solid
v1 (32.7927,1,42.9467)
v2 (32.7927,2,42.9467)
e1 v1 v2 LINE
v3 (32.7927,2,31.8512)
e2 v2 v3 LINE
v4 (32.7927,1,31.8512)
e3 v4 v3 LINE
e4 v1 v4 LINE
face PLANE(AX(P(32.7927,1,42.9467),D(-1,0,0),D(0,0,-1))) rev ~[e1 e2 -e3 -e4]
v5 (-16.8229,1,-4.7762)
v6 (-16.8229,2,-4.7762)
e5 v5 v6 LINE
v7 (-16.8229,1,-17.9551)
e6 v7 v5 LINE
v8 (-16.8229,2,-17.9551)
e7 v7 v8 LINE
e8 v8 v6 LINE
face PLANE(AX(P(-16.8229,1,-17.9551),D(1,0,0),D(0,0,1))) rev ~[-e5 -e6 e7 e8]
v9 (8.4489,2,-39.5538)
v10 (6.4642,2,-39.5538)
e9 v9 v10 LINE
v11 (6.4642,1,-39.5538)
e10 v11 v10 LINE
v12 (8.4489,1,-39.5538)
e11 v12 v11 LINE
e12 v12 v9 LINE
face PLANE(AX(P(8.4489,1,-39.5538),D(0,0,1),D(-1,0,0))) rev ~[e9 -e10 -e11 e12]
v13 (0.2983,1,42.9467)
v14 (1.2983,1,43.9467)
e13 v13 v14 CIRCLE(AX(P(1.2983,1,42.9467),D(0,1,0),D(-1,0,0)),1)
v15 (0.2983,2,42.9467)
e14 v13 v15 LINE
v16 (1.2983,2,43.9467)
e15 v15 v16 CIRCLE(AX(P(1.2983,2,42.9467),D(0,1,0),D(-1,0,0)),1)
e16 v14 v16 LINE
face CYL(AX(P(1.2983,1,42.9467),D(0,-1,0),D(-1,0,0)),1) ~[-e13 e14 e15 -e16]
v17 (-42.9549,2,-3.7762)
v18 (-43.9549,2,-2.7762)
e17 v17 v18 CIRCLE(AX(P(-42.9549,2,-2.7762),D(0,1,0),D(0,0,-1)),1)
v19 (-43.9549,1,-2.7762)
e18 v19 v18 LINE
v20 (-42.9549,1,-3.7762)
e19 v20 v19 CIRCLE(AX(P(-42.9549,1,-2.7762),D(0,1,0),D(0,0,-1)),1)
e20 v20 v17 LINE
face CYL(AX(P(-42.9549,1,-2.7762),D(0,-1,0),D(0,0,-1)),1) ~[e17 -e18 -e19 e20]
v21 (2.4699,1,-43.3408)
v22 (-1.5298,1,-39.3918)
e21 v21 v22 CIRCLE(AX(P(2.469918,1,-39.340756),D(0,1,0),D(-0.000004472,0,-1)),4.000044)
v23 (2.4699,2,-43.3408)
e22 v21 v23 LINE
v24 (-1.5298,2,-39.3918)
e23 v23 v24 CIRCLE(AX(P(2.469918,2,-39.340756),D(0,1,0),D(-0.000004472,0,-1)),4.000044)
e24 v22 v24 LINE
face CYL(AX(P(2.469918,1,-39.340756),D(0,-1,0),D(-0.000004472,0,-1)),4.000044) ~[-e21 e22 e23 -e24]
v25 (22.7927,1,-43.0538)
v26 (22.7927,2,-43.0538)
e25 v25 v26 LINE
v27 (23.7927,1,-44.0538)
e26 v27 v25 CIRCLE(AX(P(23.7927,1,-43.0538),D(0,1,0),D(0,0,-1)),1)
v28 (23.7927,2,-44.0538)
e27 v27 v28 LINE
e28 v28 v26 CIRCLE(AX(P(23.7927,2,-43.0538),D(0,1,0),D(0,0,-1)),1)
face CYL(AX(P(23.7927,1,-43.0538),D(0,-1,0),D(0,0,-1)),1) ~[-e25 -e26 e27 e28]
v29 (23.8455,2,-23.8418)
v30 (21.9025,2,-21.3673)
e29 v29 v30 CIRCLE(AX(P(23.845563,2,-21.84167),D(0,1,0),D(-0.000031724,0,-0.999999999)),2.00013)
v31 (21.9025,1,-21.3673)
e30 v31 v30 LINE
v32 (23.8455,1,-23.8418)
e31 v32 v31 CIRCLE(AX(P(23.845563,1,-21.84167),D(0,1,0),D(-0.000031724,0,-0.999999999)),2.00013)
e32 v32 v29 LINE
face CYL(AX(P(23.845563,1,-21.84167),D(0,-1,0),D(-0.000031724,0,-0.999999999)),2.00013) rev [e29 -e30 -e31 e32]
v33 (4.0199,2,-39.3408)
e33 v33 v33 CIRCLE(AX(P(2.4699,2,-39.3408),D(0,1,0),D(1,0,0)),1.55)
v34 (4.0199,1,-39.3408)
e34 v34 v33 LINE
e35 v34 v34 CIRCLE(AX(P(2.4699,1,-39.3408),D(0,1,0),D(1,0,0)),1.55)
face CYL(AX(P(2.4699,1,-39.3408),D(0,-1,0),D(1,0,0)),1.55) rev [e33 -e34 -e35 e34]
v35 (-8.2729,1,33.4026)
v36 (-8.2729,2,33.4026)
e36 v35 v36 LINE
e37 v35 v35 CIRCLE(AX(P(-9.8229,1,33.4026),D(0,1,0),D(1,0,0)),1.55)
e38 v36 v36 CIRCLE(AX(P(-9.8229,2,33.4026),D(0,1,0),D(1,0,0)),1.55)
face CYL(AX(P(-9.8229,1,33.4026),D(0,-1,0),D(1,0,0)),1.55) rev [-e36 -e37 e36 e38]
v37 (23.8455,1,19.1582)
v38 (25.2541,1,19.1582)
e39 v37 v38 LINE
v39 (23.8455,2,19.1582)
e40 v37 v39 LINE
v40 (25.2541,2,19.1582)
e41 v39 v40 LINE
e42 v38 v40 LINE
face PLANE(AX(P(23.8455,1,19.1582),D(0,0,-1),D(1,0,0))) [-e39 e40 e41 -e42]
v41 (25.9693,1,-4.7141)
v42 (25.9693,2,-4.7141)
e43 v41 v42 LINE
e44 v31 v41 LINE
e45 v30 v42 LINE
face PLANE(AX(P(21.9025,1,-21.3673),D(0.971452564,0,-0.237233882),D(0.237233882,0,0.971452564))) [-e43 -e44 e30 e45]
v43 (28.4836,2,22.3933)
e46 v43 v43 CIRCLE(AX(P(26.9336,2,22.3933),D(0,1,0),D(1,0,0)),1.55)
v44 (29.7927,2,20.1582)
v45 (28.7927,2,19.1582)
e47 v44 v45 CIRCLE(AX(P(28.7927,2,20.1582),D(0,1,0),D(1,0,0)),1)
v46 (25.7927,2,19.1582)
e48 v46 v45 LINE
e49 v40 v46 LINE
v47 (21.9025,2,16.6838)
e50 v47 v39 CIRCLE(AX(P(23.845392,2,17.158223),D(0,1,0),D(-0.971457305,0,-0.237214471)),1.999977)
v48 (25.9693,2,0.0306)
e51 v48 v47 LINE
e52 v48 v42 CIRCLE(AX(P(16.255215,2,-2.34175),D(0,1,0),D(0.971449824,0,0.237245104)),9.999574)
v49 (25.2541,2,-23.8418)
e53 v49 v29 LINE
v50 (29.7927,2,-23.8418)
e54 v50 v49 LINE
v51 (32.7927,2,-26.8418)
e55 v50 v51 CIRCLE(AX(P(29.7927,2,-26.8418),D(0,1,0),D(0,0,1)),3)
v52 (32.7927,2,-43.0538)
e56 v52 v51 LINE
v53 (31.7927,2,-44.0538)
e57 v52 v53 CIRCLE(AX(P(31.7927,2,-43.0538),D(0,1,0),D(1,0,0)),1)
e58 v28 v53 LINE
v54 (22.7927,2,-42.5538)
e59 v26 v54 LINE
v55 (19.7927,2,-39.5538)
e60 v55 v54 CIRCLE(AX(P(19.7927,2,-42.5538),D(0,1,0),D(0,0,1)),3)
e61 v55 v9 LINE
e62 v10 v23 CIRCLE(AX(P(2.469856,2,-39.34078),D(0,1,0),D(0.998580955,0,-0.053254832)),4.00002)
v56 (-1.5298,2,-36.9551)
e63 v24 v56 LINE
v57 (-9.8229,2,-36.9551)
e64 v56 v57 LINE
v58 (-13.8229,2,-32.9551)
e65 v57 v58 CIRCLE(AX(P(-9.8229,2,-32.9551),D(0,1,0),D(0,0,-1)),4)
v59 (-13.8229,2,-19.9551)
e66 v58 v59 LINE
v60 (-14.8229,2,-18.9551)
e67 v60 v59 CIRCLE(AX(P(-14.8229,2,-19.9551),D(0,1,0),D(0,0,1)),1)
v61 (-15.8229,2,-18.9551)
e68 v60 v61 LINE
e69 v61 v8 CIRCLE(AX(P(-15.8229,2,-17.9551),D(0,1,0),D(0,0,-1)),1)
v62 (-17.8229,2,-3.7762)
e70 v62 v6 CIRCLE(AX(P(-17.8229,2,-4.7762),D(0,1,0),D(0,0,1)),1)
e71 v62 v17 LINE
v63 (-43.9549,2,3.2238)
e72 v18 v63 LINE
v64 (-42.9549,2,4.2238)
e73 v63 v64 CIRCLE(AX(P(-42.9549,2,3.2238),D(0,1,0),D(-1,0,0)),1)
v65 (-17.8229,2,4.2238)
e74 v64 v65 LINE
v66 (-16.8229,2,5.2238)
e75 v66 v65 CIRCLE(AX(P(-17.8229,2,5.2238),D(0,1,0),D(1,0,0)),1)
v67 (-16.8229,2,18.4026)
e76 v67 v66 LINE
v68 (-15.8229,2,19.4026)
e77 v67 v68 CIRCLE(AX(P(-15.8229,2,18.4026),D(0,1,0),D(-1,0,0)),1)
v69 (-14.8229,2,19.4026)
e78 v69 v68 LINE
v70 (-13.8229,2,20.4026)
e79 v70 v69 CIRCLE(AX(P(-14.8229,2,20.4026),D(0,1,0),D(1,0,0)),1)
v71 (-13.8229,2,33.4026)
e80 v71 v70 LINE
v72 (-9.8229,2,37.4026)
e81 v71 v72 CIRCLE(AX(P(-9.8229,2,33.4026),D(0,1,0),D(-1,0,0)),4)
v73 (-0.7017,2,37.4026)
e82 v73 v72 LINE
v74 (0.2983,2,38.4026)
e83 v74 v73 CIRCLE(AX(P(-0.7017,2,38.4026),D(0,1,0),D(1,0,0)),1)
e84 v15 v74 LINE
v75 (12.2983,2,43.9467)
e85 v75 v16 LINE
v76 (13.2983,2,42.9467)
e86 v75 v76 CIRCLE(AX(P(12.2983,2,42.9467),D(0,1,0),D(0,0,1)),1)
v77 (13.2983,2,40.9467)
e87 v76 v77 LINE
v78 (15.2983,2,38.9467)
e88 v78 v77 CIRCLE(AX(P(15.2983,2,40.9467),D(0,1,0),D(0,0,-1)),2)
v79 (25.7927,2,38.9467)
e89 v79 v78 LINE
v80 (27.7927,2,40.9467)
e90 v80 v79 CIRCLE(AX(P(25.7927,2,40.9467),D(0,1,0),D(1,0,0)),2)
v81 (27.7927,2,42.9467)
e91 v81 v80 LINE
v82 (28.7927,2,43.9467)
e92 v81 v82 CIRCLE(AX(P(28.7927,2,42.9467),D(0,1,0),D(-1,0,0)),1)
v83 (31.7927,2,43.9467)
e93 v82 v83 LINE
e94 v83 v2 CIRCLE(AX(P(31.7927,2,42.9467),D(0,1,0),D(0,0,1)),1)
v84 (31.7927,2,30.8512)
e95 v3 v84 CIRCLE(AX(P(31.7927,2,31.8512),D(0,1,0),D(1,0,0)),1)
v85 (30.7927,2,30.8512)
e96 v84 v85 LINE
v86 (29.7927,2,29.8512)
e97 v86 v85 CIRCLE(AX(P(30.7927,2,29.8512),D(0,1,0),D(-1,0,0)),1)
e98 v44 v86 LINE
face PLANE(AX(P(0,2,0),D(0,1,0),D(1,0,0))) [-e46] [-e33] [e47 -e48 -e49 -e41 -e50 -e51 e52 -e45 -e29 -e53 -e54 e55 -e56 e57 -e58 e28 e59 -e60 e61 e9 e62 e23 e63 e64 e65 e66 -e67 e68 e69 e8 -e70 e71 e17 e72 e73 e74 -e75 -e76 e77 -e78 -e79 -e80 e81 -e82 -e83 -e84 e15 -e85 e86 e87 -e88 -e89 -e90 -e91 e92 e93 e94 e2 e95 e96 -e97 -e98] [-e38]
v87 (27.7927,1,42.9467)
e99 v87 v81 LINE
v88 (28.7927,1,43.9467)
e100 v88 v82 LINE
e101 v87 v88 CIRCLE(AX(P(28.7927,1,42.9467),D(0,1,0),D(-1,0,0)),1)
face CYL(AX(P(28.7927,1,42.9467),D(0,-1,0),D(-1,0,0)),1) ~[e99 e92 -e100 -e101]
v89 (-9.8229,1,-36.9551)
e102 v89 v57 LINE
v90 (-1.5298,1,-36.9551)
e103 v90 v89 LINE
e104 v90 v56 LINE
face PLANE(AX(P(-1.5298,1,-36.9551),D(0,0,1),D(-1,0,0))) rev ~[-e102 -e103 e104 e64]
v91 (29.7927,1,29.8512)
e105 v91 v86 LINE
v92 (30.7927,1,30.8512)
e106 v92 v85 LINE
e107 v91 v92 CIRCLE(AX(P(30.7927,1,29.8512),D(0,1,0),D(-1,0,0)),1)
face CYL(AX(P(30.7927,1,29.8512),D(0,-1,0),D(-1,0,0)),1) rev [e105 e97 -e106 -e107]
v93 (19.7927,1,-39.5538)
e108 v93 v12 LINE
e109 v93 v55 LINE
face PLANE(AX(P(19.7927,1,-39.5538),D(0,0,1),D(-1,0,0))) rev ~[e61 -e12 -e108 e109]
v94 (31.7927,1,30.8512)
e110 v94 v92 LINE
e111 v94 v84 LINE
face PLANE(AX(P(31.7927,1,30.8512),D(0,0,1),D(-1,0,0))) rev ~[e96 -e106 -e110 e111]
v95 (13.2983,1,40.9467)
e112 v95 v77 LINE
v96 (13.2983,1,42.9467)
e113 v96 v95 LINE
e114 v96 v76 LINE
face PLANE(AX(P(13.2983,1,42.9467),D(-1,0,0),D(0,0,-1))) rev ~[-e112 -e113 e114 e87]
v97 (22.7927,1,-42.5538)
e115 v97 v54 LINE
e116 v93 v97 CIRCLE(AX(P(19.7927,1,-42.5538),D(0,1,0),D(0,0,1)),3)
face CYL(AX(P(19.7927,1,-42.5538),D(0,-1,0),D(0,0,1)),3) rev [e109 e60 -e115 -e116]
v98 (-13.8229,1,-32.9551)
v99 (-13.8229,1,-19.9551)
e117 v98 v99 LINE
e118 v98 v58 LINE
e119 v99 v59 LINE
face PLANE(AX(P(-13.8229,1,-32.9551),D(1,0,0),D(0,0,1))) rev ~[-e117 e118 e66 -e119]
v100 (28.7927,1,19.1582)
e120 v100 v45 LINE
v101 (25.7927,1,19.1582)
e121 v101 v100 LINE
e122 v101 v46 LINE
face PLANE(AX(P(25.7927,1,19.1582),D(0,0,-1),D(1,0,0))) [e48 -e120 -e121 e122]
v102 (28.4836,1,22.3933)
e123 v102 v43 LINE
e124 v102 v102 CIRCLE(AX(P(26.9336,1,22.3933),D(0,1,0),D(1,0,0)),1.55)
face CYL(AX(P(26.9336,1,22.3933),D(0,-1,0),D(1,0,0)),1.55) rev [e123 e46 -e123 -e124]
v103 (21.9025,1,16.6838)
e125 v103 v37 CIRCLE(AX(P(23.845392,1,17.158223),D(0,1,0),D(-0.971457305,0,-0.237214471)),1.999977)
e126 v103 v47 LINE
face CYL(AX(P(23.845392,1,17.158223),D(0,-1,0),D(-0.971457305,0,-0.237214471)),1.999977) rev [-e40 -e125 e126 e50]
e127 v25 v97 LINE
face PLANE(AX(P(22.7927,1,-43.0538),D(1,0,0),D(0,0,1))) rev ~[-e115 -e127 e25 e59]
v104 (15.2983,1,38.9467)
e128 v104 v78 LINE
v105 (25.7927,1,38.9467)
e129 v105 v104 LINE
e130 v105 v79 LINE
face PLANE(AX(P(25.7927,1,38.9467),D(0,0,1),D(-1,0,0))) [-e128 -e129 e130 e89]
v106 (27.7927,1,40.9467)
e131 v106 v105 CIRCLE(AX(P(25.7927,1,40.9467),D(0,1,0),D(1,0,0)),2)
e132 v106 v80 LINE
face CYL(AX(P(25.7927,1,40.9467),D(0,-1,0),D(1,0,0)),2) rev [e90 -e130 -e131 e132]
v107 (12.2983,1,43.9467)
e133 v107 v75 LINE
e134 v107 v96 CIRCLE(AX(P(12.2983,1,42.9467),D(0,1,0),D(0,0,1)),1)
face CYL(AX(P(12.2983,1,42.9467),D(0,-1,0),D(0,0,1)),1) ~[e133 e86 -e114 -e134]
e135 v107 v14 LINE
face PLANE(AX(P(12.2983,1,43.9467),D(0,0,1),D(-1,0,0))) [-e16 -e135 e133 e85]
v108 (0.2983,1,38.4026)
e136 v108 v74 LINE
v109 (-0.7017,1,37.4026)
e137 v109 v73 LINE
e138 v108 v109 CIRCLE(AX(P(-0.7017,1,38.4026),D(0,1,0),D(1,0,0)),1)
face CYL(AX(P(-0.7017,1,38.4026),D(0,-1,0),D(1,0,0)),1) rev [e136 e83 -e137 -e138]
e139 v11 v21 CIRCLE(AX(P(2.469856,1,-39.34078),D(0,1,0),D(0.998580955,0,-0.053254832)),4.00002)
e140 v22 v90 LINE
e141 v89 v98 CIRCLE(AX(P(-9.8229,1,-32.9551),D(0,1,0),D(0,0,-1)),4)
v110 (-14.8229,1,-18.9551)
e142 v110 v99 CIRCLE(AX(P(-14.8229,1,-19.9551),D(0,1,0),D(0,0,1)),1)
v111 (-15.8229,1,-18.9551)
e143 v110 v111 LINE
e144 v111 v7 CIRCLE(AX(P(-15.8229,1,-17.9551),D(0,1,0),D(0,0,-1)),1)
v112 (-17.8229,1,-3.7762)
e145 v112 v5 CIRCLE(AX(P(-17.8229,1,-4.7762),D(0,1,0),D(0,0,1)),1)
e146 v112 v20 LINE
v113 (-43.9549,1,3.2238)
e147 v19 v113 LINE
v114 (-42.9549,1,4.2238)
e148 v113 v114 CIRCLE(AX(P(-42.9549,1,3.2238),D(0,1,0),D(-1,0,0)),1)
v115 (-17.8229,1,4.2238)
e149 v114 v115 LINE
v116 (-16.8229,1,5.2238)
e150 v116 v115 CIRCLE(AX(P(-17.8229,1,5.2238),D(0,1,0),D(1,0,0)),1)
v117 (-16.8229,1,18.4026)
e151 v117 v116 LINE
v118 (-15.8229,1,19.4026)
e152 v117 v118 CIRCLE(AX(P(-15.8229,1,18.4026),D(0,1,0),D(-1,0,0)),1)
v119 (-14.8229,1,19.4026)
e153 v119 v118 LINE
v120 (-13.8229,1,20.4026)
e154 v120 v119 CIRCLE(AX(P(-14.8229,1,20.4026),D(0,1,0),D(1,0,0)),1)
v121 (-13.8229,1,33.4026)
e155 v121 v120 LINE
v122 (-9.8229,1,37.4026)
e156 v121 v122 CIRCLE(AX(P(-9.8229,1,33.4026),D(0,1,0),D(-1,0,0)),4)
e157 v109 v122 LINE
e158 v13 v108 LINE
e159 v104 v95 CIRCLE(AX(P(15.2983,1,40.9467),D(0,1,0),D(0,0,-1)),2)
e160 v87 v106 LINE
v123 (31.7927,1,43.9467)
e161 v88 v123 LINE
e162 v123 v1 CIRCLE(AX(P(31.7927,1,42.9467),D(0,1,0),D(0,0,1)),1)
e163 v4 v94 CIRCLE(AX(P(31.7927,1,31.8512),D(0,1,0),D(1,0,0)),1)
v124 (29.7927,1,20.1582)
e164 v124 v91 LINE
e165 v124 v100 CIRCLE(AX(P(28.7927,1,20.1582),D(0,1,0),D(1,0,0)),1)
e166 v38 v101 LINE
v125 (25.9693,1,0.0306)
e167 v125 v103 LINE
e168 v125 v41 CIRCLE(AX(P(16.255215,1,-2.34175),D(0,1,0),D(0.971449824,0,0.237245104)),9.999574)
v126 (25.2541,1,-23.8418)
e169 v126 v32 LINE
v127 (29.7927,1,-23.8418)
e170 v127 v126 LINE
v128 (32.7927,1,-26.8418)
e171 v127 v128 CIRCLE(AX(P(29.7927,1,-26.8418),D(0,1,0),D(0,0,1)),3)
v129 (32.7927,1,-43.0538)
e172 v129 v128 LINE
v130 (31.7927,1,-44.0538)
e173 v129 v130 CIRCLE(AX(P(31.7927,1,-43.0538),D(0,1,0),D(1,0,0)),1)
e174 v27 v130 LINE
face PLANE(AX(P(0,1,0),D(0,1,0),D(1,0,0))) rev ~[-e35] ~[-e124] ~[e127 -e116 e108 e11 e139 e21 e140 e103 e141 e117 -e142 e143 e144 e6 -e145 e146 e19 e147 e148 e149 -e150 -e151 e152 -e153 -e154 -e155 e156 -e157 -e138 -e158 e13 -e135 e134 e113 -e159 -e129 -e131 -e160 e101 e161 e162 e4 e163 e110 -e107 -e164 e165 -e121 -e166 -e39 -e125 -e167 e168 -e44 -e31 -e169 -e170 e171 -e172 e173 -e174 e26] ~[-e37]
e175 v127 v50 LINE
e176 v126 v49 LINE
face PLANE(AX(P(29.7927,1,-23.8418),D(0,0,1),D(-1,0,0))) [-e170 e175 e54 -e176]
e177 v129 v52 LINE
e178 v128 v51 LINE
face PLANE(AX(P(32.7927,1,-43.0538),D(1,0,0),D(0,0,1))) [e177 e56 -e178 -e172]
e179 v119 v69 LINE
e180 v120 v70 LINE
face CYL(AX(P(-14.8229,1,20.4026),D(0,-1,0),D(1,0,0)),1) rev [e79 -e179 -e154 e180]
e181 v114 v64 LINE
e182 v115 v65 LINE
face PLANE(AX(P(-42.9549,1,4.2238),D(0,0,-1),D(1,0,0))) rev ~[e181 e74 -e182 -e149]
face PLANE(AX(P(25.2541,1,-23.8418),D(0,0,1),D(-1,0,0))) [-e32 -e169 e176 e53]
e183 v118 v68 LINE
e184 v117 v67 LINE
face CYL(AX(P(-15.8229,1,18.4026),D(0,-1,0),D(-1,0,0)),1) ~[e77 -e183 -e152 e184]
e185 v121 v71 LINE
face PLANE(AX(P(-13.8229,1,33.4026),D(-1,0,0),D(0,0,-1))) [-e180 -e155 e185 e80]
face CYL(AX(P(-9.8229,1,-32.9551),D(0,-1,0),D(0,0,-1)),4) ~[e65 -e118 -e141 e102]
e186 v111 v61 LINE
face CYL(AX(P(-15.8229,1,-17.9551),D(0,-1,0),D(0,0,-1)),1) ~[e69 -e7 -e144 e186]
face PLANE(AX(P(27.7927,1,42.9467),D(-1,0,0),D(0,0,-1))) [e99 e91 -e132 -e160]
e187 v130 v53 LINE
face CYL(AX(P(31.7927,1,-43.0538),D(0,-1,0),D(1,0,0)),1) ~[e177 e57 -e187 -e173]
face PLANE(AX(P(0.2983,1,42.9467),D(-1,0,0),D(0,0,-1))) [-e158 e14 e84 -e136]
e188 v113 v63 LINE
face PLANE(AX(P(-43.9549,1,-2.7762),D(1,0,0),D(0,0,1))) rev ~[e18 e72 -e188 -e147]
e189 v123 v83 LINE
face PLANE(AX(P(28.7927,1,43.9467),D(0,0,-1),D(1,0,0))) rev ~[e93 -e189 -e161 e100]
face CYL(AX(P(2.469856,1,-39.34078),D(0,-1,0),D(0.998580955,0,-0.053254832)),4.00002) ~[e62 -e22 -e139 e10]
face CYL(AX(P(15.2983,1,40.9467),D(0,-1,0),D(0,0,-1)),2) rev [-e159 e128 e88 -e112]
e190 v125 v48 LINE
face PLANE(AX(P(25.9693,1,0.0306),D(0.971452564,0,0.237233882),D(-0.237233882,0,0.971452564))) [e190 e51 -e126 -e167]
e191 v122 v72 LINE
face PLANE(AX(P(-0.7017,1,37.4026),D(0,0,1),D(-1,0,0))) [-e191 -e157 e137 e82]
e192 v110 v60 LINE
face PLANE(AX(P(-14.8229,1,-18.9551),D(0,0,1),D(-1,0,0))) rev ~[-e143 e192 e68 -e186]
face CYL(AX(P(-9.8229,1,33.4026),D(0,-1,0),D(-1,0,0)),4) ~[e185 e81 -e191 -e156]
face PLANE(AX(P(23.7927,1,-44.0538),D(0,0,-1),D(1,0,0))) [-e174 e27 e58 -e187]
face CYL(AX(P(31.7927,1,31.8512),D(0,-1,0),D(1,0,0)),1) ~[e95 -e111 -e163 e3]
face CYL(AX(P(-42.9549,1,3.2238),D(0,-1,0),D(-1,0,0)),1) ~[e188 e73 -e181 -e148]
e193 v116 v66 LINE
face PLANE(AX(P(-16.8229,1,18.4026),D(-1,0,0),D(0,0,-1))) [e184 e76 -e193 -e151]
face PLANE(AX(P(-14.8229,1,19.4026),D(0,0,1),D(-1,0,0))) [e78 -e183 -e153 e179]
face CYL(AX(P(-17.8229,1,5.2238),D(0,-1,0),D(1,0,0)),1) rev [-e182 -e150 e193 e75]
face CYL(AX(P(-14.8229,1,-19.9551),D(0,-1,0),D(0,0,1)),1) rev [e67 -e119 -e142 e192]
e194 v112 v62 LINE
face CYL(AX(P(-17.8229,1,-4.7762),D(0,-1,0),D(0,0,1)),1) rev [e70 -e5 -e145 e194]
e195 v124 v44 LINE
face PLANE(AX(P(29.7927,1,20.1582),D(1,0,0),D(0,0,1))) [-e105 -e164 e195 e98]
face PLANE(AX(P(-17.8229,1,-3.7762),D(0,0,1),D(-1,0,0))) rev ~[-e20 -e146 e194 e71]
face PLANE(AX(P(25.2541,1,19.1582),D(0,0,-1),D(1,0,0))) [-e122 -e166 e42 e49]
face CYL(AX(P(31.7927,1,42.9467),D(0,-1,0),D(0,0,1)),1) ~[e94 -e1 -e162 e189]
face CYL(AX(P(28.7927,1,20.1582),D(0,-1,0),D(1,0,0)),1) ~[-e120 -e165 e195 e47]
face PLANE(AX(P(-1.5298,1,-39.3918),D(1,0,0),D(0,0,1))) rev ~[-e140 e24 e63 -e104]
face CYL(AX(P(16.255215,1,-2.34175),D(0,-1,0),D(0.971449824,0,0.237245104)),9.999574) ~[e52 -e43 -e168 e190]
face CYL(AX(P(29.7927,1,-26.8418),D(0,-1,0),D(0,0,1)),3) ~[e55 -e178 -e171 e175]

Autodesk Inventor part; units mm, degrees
ref_plane "YZ Plane" through (0, 0, 0) normal (1, 0, 0) x (0, 1, 0)
ref_plane "XZ Plane" through (0, 0, 0) normal (0, 1, 0) x (-1, 0, 0)
ref_plane "XY Plane" through (0, 0, 0) normal (0, 0, 1) x (1, 0, 0)
ref_plane "Work Plane2" through (0, 1, 0) normal (0, 1, 0) x (1, 0, 0)
sketch "Sketch2" plane through (0, 1, 0) normal (0, 1, 0) x (1, 0, 0)
  arc A0 (-13.8229, -33.4026) -> (-9.8229, -37.4026) centre (-9.8229, -33.4026) ccw
  arc A1 (-9.8229, 36.9551) -> (-13.8229, 32.9551) centre (-9.8229, 32.9551) ccw
  circle A2 centre (2.4699, 39.3408) radius 1.55
  circle A3 centre (26.9336, -22.3933) radius 1.55
  circle A4 centre (-9.8229, -33.4026) radius 1.55
  line L0 (23.7927, 44.0538) -> (31.7927, 44.0538)
  line L1 (32.7927, 43.0538) -> (32.7927, 26.8418)
  line L2 (29.7927, 23.8418) -> (25.2541, 23.8418)
  line L3 (-17.8229, 3.7762) -> (-42.9549, 3.7762)
  line L4 (-43.9549, 2.7762) -> (-43.9549, -3.2238)
  line L5 (-42.9549, -4.2238) -> (-17.8229, -4.2238)
  line L6 (28.7927, -43.9467) -> (31.7927, -43.9467)
  line L7 (22.7927, 43.0538) -> (22.7927, 42.5538)
  arc A5 (23.7927, 44.0538) -> (22.7927, 43.0538) centre (23.7927, 43.0538) ccw
  arc A6 (32.7927, 43.0538) -> (31.7927, 44.0538) centre (31.7927, 43.0538) ccw
  arc A7 (31.7927, -43.9467) -> (32.7927, -42.9467) centre (31.7927, -42.9467) ccw
  arc A8 (27.7927, -42.9467) -> (28.7927, -43.9467) centre (28.7927, -42.9467) ccw
  arc A9 (29.7927, 23.8418) -> (32.7927, 26.8418) centre (29.7927, 26.8418) ccw
  arc A10 (19.7927, 39.5538) -> (22.7927, 42.5538) centre (19.7927, 42.5538) ccw
  arc A11 (-42.9549, 3.7762) -> (-43.9549, 2.7762) centre (-42.9549, 2.7762) ccw
  arc A12 (-43.9549, -3.2238) -> (-42.9549, -4.2238) centre (-42.9549, -3.2238) ccw
  line L8 (-13.8229, 32.9551) -> (-13.8229, 19.9551)
  line L9 (-14.8229, 18.9551) -> (-15.8229, 18.9551)
  line L10 (-16.8229, 17.9551) -> (-16.8229, 4.7762)
  line L11 (-13.8229, -33.4026) -> (-13.8229, -20.4026)
  line L12 (-14.8229, -19.4026) -> (-15.8229, -19.4026)
  line L13 (-16.8229, -18.4026) -> (-16.8229, -5.2238)
  arc A13 (-14.8229, 18.9551) -> (-13.8229, 19.9551) centre (-14.8229, 19.9551) ccw
  arc A14 (-15.8229, 18.9551) -> (-16.8229, 17.9551) centre (-15.8229, 17.9551) ccw
  arc A15 (-17.8229, 3.7762) -> (-16.8229, 4.7762) centre (-17.8229, 4.7762) ccw
  arc A16 (-16.8229, -5.2238) -> (-17.8229, -4.2238) centre (-17.8229, -5.2238) ccw
  arc A17 (-16.8229, -18.4026) -> (-15.8229, -19.4026) centre (-15.8229, -18.4026) ccw
  arc A18 (-13.8229, -20.4026) -> (-14.8229, -19.4026) centre (-14.8229, -20.4026) ccw
  arc A19 (2.4699, 43.3408) -> (-1.5298, 39.3918) centre (2.4699, 39.3408) ccw
  line L14 (-1.5298, 39.3918) -> (-1.5298, 36.9551)
  line L15 (-1.5298, 36.9551) -> (-9.8229, 36.9551)
  line L16 (12.2983, -43.9467) -> (1.2983, -43.9467)
  line L17 (0.2983, -42.9467) -> (0.2983, -38.4026)
  line L18 (-0.7017, -37.4026) -> (-9.8229, -37.4026)
  arc A20 (0.2983, -42.9467) -> (1.2983, -43.9467) centre (1.2983, -42.9467) ccw
  arc A21 (12.2983, -43.9467) -> (13.2983, -42.9467) centre (12.2983, -42.9467) ccw
  arc A22 (0.2983, -38.4026) -> (-0.7017, -37.4026) centre (-0.7017, -38.4026) ccw
  line L19 (19.7927, 39.5538) -> (8.4489, 39.5538)
  line L20 (27.7927, -42.9467) -> (27.7927, -40.9467)
  line L21 (25.7927, -38.9467) -> (15.2983, -38.9467)
  arc A23 (27.7927, -40.9467) -> (25.7927, -38.9467) centre (25.7927, -40.9467) ccw
  line L22 (13.2983, -42.9467) -> (13.2983, -40.9467)
  arc A24 (15.2983, -38.9467) -> (13.2983, -40.9467) centre (15.2983, -40.9467) ccw
  line L23 (8.4489, 39.5538) -> (6.4642, 39.5538)
  arc A25 (6.4642, 39.5538) -> (2.4699, 43.3408) centre (2.4699, 39.3408) ccw
  line L24 (25.2541, -19.1582) -> (28.7927, -19.1582)
  line L25 (28.7927, -19.1582) -> (28.7927, -19.1582)
  line L26 (29.7927, -20.1582) -> (29.7927, -29.8512)
  line L27 (32.7927, -42.9467) -> (32.7927, -31.8512)
  line L28 (31.7927, -30.8512) -> (30.7927, -30.8512)
  arc A26 (29.7927, -20.1582) -> (28.7927, -19.1582) centre (28.7927, -20.1582) ccw
  arc A27 (29.7927, -29.8512) -> (30.7927, -30.8512) centre (30.7927, -29.8512) ccw
  arc A28 (32.7927, -31.8512) -> (31.7927, -30.8512) centre (31.7927, -31.8512) ccw
  line L29 (25.2541, 23.8418) -> (23.8455, 23.8418)
  line L30 (21.9025, 21.3673) -> (25.9693, 4.7141)
  line L31 (25.9693, -0.0306) -> (21.9025, -16.6838)
  line L32 (23.8455, -19.1582) -> (25.7927, -19.1582)
  arc A29 (23.8455, 23.8418) -> (21.9025, 21.3673) centre (23.8455, 21.8418) ccw
  arc A30 (21.9025, -16.6838) -> (23.8455, -19.1582) centre (23.8455, -17.1582) ccw
  arc A31 (25.9693, -0.0306) -> (25.9693, 4.7141) centre (16.2548, 2.3418) ccw
  point P0 (0, 0)
  point P1 (22.7927, 44.0538)
  point P2 (32.7927, 44.0538)
  point P3 (32.7927, 23.8418)
  point P4 (32.7927, -43.9467)
  point P5 (-16.8229, 3.7762)
  point P6 (-16.8229, -4.2238)
  point P7 (21.2983, 23.8418)
  point P8 (30.2927, -43.9467)
  point P9 (-13.8229, 18.9551)
  point P10 (-16.8229, 18.9551)
  point P11 (-13.8229, -19.4026)
  point P12 (-16.8229, -19.4026)
  point P13 (13.2983, -43.9467)
  point P14 (0.2983, -43.9467)
  point P15 (0.2983, -37.4026)
  point P16 (27.7927, -38.9467)
  point P17 (27.7927, -42.9467)
  point P18 (29.7927, -19.1582)
  point P19 (27.0234, -19.1582)
  point P20 (27.5234, 23.8418)
  point P21 (26.5486, 2.3418)
  dimension "d13" = 3.1
  dimension "d15" = 3.1
  dimension "d26" = 1
  dimension "d27" = 3
  dimension "d32" = 1
  dimension "d33" = 20.212
  dimension "d36" = 14
  dimension "d37" = 3
  dimension "d38" = 14
  dimension "d39" = 3
  dimension "d40" = 1
  dimension "d42" = 13
  dimension "d43" = 1
  dimension "d47" = 88.0005
  dimension "d49" = 4
  dimension "d50" = 2
  dimension "d51" = 2
  dimension "d52" = 0.5
  dimension "d57" = 1
  dimension "d58" = 43
  dimension "d60" = 21.5
  dimension "d61" = 2
  dimension "d62" = 10
extrude "Extrusion2" add sketch "Sketch2" along normal blind 1
properties part number "pcb"
